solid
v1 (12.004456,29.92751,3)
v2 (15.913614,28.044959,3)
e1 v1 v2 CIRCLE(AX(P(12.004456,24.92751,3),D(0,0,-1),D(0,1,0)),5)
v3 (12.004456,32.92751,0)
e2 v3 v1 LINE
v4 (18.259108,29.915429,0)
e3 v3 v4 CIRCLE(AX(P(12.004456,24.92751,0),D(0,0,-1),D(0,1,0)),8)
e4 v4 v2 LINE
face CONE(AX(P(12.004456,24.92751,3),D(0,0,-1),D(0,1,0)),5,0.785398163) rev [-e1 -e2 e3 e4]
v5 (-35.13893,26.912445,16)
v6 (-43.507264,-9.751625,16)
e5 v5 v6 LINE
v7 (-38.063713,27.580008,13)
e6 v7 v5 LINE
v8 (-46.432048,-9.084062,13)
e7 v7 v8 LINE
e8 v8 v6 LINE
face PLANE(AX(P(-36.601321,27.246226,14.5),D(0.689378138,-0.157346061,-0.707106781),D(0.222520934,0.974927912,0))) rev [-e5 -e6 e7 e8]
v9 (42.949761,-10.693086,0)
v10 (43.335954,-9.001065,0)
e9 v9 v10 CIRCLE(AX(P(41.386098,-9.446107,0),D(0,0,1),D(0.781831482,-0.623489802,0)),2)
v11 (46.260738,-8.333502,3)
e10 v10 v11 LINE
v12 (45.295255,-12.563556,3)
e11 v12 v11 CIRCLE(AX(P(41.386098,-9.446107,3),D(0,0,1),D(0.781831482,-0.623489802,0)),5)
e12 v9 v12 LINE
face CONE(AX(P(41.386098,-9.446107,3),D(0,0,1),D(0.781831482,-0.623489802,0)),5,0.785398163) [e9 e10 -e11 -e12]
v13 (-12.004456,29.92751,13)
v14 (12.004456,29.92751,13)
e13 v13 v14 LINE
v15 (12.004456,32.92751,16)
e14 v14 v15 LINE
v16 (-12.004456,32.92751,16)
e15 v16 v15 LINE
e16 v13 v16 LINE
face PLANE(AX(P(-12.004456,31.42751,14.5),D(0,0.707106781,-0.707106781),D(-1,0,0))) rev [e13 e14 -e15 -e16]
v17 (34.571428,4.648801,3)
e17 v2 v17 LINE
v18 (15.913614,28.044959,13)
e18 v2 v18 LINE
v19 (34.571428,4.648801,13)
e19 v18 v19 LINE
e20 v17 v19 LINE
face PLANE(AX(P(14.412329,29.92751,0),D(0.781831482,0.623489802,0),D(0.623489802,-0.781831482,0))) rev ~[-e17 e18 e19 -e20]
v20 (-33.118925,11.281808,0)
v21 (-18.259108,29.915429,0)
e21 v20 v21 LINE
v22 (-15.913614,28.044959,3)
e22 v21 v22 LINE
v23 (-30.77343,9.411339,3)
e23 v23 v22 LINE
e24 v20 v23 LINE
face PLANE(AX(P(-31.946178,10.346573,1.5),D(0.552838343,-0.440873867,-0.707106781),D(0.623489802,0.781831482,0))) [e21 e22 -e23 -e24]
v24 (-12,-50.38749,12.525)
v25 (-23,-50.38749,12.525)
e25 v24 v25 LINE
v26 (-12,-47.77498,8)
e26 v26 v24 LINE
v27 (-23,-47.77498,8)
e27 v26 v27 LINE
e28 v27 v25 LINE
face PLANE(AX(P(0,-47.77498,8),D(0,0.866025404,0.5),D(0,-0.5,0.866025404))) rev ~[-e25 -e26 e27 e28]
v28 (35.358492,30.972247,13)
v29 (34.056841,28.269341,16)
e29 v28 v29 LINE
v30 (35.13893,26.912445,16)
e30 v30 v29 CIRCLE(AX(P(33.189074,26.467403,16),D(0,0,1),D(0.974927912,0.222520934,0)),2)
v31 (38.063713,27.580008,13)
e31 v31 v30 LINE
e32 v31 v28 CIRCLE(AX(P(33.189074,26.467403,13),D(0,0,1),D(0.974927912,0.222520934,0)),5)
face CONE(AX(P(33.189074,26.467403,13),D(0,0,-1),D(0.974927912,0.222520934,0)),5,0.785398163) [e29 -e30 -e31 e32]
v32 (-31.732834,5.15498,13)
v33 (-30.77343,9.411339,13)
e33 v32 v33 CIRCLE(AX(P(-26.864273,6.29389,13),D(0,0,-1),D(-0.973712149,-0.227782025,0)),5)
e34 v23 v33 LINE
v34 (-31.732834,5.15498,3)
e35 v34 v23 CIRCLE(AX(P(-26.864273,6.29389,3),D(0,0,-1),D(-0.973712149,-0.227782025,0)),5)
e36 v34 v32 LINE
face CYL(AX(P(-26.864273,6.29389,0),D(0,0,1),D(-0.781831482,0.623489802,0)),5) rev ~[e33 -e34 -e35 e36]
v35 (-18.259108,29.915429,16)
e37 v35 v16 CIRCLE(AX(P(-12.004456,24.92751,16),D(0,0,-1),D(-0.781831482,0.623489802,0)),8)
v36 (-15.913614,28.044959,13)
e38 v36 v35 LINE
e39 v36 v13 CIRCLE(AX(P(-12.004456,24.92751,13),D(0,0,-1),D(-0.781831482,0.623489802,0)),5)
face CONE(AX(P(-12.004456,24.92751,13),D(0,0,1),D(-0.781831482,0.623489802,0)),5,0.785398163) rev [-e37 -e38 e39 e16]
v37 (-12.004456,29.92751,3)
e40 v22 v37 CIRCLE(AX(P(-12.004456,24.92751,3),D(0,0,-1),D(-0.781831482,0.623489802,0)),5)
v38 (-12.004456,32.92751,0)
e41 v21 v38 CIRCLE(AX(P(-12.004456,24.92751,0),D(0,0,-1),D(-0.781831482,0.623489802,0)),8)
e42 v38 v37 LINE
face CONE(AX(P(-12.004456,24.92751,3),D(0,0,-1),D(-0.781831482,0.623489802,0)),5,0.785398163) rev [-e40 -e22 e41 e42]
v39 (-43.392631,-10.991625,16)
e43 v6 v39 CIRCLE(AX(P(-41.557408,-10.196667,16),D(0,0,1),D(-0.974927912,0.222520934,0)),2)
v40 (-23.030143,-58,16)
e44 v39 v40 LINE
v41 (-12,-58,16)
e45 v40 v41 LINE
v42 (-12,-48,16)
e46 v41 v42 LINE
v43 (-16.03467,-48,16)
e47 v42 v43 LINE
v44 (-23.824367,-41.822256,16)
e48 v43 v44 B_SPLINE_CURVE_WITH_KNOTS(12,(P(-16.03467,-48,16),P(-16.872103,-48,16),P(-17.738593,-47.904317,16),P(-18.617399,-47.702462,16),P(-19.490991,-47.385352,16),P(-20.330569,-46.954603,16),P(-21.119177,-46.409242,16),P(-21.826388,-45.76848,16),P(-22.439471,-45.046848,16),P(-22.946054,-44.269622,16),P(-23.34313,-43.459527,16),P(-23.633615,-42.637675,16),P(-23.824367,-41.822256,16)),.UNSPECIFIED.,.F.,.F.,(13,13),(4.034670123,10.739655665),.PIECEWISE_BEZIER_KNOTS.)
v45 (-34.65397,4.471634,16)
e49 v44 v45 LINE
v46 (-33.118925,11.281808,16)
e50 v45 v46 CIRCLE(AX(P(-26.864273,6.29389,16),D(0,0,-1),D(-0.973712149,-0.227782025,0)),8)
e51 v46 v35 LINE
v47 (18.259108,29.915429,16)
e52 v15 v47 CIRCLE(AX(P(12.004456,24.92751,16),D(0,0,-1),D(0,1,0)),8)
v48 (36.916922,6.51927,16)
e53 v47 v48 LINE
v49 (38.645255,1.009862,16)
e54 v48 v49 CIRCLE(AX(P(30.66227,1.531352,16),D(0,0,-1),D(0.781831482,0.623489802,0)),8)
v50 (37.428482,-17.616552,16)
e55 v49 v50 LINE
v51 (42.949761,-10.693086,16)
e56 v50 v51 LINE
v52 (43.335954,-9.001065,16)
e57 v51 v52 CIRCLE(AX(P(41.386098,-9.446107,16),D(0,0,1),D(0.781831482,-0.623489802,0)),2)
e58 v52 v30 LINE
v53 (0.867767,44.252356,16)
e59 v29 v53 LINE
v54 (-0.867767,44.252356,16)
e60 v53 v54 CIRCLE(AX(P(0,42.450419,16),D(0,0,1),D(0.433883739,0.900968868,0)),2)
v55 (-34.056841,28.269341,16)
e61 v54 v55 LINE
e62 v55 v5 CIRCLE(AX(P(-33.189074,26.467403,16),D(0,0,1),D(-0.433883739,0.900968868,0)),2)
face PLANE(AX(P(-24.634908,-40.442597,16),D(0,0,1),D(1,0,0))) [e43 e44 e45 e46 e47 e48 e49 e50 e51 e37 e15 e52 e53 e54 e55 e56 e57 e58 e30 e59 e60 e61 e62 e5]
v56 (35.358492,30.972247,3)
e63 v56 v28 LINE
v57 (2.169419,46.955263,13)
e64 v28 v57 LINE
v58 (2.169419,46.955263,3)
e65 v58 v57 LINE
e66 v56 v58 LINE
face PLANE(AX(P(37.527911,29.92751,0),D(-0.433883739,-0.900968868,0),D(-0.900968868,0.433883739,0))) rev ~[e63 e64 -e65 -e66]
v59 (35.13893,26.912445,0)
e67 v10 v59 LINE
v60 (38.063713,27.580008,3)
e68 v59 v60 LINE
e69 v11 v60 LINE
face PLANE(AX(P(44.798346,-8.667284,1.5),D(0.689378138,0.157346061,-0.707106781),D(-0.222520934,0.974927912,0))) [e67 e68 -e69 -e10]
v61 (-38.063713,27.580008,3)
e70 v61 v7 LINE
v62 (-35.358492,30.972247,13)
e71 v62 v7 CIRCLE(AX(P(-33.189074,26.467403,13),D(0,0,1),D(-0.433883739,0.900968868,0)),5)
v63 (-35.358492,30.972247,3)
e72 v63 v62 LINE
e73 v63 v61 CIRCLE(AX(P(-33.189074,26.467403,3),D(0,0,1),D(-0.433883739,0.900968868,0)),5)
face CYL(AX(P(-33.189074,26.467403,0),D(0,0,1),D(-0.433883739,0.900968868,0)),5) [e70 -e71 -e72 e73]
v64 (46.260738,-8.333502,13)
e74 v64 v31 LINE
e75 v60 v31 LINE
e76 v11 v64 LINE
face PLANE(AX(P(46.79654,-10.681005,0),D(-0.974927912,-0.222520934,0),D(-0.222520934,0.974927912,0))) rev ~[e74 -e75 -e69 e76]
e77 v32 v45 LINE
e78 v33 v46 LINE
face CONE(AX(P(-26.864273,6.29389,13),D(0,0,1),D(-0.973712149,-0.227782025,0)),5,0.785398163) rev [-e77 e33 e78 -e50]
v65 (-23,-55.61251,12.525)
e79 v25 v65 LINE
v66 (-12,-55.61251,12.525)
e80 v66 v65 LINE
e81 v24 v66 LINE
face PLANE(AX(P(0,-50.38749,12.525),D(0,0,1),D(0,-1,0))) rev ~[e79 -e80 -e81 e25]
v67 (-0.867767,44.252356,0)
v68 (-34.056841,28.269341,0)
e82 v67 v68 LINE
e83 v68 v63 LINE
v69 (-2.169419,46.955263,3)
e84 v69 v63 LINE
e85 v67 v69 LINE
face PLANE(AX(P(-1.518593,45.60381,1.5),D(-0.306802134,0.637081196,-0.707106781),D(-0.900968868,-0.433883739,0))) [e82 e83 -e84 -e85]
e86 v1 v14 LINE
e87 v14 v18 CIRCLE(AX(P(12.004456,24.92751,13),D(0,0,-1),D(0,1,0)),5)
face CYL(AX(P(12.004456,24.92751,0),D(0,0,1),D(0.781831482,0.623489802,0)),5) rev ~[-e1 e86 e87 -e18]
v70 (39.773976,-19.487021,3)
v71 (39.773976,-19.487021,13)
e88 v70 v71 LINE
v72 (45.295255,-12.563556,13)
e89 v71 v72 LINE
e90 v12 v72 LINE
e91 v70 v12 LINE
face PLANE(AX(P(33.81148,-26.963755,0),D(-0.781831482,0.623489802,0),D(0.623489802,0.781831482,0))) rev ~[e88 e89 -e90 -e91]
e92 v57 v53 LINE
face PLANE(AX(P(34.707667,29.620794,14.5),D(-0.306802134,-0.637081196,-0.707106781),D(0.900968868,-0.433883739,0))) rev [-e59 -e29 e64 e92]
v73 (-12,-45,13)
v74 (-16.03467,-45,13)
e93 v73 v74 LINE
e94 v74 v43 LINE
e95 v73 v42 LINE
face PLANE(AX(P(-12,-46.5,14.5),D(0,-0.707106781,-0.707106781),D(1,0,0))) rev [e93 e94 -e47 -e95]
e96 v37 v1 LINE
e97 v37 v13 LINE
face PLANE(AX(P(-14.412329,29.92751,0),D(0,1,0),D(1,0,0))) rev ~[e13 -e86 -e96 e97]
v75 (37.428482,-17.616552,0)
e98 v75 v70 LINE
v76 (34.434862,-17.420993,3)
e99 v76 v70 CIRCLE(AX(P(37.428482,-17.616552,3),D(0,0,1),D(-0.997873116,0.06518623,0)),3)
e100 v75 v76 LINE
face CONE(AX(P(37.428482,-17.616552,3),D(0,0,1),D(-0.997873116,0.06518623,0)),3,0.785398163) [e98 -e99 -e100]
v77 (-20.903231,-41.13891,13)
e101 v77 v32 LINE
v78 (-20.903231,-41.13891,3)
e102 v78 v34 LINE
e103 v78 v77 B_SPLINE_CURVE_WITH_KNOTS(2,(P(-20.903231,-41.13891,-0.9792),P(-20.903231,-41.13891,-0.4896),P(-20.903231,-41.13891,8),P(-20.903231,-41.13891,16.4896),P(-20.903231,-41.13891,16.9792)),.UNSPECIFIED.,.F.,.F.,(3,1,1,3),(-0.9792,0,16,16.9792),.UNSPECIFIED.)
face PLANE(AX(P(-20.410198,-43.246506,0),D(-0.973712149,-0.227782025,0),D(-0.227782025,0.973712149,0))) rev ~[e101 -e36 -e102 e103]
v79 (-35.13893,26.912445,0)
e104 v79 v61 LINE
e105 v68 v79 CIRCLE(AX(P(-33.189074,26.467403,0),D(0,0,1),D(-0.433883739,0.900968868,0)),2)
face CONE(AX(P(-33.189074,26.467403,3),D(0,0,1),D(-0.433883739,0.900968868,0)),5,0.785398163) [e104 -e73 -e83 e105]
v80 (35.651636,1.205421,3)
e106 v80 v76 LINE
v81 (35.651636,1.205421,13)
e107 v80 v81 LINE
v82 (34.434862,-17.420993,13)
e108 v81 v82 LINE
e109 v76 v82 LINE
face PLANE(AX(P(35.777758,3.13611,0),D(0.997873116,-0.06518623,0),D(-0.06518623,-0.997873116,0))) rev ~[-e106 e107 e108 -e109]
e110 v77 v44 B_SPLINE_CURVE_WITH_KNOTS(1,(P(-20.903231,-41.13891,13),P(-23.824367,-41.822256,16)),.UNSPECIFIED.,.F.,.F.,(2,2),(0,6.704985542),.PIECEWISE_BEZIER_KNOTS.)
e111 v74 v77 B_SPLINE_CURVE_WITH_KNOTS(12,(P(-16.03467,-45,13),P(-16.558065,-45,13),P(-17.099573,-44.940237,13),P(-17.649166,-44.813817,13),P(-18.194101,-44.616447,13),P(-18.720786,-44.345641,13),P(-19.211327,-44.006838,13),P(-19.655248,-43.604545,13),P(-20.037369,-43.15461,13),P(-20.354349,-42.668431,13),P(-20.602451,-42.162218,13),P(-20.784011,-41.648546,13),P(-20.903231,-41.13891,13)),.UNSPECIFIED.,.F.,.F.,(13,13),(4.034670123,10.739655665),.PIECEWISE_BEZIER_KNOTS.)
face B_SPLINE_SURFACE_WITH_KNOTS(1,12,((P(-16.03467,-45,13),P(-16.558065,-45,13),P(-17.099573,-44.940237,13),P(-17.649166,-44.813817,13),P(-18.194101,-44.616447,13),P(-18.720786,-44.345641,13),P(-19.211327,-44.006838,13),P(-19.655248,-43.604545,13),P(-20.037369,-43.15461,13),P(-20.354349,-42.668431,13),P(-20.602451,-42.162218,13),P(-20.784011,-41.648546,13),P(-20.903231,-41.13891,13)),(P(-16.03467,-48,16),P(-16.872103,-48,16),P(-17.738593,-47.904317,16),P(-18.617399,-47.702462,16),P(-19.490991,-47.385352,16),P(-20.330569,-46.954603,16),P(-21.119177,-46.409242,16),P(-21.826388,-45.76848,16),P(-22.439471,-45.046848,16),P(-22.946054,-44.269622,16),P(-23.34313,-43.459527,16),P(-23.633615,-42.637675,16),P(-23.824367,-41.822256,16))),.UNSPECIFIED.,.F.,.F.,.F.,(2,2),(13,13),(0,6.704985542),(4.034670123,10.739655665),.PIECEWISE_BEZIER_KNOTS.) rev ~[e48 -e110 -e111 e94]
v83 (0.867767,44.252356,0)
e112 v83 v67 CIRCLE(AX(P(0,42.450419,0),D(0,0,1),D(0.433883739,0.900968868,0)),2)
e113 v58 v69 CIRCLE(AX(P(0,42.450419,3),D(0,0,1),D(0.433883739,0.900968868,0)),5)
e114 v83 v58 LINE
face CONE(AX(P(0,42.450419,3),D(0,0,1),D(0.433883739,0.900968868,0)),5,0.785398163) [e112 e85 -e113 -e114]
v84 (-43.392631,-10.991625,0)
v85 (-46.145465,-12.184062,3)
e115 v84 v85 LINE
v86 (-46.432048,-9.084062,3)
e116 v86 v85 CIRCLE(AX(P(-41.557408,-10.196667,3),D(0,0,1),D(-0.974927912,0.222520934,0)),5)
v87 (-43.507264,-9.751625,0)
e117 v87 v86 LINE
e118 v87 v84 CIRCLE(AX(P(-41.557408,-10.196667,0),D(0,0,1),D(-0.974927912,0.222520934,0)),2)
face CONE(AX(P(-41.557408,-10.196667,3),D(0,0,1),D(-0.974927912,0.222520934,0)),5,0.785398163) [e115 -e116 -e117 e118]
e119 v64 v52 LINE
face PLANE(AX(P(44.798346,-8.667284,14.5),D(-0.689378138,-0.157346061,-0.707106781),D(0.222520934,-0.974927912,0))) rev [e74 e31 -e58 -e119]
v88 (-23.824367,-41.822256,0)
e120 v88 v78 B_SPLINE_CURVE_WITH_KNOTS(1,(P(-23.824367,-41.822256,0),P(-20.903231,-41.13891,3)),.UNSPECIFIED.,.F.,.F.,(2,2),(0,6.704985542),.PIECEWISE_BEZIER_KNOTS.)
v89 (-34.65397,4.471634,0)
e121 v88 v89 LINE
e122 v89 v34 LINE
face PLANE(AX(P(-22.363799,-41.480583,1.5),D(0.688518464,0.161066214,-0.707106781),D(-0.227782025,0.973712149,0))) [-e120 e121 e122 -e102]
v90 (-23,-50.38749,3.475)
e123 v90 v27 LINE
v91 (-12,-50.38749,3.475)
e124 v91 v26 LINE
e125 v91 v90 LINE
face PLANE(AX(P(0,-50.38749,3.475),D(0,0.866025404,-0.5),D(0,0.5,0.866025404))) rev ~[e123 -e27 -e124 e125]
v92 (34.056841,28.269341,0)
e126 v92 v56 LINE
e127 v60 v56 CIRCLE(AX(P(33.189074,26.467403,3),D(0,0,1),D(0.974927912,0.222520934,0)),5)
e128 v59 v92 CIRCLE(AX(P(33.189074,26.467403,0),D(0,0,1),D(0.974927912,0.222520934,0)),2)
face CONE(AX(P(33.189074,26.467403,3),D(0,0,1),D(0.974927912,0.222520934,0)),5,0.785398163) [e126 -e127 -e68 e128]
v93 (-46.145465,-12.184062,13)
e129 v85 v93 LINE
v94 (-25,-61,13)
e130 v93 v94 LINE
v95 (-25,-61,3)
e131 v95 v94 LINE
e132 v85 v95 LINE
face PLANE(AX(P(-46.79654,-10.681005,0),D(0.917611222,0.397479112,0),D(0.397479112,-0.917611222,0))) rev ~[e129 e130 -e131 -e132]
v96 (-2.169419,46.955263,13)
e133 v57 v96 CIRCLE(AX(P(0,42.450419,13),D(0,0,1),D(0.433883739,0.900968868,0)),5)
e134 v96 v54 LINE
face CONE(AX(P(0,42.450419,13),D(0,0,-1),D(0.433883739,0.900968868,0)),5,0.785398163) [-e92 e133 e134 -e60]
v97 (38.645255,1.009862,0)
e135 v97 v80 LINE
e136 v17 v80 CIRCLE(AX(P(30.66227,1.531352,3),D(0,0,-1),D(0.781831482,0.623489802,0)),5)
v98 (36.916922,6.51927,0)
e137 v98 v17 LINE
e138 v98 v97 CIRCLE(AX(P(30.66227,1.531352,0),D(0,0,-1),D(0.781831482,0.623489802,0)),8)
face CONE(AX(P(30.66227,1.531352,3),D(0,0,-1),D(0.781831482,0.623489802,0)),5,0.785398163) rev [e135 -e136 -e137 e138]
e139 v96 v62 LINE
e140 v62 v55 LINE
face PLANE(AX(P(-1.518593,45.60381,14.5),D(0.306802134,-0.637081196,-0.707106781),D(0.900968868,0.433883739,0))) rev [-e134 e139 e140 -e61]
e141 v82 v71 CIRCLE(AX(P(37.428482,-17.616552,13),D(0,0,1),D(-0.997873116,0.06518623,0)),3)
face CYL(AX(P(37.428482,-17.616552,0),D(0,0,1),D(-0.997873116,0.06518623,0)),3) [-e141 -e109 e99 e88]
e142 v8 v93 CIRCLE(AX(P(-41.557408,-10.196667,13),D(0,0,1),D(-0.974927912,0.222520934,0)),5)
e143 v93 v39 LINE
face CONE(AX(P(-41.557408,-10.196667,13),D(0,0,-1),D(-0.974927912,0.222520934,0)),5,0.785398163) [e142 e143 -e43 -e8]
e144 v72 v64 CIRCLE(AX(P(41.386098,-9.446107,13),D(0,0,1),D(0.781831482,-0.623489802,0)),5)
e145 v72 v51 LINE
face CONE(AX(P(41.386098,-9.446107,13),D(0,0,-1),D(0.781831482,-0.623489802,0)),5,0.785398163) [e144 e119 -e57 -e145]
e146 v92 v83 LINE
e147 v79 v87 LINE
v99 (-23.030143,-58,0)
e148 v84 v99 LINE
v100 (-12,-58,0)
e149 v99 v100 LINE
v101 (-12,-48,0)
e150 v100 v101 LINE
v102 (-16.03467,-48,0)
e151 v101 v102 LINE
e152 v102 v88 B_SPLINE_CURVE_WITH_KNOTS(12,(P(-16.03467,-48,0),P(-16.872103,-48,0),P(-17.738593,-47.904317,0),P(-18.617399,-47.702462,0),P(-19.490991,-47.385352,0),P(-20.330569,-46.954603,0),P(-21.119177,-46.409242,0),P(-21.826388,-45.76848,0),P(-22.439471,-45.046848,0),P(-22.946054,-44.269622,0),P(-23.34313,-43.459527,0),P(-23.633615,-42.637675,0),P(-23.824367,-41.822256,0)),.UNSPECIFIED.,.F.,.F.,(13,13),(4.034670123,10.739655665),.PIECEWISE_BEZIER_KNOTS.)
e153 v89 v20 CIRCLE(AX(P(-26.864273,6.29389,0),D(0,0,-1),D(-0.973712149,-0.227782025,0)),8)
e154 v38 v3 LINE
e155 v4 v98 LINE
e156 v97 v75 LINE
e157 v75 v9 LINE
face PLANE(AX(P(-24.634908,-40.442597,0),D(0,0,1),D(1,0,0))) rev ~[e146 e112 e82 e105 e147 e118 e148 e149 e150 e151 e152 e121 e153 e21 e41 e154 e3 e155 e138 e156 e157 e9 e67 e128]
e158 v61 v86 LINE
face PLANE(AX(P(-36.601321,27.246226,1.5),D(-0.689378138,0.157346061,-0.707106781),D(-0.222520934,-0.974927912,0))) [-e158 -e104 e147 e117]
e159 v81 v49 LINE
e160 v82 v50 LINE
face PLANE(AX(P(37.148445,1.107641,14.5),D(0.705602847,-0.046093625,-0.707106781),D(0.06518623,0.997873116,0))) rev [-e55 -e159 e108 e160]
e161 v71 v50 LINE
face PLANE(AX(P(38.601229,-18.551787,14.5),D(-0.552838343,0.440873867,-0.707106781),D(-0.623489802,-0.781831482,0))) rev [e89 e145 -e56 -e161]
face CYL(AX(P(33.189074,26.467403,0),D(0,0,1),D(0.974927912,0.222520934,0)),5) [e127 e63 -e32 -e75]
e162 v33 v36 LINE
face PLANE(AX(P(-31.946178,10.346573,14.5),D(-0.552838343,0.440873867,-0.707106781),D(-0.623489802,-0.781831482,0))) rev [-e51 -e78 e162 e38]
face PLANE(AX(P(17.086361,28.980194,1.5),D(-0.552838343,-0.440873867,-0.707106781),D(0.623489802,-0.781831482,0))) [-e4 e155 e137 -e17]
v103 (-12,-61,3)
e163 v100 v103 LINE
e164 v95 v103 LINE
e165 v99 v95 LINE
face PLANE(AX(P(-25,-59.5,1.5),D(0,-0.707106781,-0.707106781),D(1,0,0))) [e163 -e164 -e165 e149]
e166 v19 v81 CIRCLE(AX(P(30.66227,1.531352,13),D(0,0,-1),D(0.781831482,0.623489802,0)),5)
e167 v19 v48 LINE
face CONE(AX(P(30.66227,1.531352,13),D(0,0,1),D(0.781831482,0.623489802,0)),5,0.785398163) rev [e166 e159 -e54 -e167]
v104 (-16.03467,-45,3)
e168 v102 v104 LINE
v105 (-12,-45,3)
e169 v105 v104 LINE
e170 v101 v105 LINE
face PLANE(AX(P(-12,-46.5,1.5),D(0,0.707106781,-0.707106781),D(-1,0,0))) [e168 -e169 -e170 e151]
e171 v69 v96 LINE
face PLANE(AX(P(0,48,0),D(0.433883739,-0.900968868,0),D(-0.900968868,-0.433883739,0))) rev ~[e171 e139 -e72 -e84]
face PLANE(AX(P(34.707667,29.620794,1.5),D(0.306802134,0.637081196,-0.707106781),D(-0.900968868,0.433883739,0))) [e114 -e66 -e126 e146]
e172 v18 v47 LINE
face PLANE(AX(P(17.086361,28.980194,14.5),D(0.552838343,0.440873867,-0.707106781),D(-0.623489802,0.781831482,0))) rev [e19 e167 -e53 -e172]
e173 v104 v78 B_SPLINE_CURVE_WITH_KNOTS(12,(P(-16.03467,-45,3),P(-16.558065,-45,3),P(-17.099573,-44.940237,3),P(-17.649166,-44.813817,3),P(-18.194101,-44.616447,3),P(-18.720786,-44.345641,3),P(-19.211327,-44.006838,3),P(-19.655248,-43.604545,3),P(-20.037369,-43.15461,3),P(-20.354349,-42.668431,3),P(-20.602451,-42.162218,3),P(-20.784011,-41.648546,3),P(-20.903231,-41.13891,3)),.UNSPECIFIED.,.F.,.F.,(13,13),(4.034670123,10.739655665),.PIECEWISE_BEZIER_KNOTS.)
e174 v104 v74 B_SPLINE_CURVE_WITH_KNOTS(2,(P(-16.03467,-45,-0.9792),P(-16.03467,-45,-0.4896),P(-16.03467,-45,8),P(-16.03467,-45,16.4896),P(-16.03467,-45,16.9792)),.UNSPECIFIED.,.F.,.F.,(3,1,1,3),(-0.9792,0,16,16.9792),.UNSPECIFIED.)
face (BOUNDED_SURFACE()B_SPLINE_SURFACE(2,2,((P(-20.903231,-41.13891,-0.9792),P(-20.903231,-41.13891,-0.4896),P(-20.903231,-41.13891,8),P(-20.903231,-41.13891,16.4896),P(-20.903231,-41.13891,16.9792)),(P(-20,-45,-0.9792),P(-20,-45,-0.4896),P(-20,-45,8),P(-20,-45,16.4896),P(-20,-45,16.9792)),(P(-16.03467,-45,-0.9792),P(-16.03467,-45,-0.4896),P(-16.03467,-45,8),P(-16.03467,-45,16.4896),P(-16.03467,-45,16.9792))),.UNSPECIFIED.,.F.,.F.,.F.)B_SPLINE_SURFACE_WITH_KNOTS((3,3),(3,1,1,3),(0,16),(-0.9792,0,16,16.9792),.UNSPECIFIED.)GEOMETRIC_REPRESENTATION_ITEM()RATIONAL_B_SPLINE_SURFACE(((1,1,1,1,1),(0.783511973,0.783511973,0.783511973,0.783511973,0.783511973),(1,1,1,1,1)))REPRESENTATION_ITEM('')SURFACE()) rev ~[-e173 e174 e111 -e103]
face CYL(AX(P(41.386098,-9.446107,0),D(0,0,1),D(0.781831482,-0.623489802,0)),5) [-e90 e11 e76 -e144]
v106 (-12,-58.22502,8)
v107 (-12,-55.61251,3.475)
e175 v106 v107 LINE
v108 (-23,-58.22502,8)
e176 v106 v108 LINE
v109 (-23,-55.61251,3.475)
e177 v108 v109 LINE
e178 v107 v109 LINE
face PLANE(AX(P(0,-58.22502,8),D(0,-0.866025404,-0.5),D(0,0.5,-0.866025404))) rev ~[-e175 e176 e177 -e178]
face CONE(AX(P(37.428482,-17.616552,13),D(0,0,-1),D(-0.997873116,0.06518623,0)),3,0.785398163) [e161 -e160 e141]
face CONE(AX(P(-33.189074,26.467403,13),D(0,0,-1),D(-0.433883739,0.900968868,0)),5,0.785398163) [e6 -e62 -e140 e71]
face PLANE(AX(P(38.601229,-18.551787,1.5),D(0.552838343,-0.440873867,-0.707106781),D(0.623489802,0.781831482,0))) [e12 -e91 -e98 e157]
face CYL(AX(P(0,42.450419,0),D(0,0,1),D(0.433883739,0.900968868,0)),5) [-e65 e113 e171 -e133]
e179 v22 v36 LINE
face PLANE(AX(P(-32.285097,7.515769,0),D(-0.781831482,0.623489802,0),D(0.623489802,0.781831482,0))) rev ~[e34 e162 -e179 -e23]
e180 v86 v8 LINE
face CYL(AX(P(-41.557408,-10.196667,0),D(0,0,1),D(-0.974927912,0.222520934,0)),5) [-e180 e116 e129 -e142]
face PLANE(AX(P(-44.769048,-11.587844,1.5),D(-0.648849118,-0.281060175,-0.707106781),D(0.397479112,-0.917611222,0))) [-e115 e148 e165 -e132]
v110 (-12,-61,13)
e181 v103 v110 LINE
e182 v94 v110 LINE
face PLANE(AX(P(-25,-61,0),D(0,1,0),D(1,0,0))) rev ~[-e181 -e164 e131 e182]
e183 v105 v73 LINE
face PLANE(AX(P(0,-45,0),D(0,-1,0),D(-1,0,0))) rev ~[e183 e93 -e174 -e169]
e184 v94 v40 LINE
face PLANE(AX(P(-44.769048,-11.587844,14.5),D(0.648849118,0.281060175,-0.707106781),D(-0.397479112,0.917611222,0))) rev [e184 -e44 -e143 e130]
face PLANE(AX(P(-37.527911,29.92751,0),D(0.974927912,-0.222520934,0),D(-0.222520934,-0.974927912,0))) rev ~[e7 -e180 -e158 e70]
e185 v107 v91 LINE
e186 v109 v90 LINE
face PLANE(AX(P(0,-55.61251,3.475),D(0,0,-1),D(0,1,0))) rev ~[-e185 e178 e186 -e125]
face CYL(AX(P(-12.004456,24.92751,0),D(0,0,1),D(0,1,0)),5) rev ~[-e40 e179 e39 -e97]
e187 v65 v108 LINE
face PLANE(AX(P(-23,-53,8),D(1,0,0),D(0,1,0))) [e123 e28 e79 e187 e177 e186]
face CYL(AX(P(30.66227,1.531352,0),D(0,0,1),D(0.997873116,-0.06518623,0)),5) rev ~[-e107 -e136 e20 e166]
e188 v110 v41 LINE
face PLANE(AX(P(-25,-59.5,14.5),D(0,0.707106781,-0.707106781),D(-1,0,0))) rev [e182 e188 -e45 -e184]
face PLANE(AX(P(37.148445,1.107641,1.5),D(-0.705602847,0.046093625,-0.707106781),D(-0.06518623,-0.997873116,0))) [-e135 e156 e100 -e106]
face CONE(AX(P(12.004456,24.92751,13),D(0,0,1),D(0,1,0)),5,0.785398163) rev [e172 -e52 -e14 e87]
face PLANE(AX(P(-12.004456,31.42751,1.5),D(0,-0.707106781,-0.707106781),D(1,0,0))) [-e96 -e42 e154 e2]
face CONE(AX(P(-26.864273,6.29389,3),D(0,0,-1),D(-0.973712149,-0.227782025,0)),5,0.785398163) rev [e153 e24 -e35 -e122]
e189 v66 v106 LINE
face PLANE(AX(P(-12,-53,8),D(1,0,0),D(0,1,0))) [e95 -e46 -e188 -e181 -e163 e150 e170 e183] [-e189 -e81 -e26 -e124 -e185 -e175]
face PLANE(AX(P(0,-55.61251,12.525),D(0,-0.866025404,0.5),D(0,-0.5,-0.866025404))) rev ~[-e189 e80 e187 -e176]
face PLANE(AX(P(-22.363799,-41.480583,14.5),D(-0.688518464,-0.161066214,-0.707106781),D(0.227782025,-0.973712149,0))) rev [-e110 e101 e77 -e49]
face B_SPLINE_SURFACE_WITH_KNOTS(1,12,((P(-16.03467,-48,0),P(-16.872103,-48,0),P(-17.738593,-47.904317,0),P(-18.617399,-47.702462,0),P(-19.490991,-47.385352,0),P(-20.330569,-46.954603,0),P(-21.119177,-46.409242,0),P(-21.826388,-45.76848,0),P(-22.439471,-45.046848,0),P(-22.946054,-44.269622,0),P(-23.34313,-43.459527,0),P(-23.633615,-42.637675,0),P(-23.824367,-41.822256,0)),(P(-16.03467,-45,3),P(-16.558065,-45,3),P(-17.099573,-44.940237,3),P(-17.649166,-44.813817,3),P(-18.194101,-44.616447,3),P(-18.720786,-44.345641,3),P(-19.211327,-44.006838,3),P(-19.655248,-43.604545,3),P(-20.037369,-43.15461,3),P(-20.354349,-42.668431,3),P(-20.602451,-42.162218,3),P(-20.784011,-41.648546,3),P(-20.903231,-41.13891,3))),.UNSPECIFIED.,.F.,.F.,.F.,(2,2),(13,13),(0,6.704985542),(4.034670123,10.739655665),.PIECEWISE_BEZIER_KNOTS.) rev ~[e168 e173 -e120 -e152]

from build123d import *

# Parameters (mm, degrees)
F1_DEPTH = 16
F2_R     = 3
F3_R     = 5
F4_R     = 5
F5_W     = 16
F5_H     = 16
F6_DEPTH = 12
F7_DEPTH = 23
F8_SIZE  = 3


with BuildPart() as f1:
    # F0 (on Top) → F1 (new body)
    with BuildSketch(Plane.XY):
        Polygon((0, -61), (0, -45), (-20, -45), (-20.4101977074, -43.2465056593), (-20.8264194776, -43.2465056593), (-46.7965397847, -10.6810048299), (-25, -61), align=None)
        Polygon((-20.8264194776, -43.2465056593), (-20.4101977074, -43.2465056593), (-32.2850969664, 7.5157689065), (-46.7965397847, -10.6810048299), align=None)
        Polygon((-46.7965397847, -10.6810048299), (-32.2850969664, 7.5157689065), (-37.5279111585, 29.9275104892), align=None)
        Polygon((-37.5279111585, 29.9275104892), (-32.2850969664, 7.5157689065), (-14.4123294557, 29.9275104892), align=None)
        Polygon((0, 48), (-37.5279111585, 29.9275104892), (-14.4123294557, 29.9275104892), align=None)
        Polygon((0, 48), (-14.4123294557, 29.9275104892), (14.4123294557, 29.9275104892), align=None)
        Polygon((37.5279111585, 29.9275104892), (0, 48), (14.4123294557, 29.9275104892), align=None)
        Polygon((14.4123294557, 29.9275104892), (35.7777584033, 3.1361099918), (37.5279111585, 29.9275104892), align=None)
        Polygon((35.7777584033, 3.1361099918), (46.7965397847, -10.6810048299), (37.5279111585, 29.9275104892), align=None)
        Polygon((35.7777584033, 3.1361099918), (33.8114796312, -26.9637552446), (46.7965397847, -10.6810048299), align=None)
    extrude(amount=F1_DEPTH)

    # F2
    f2_edges = [f1.edges().sort_by_distance(p)[0] for p in [
        (33.81148, -26.963755, 8),
    ]]
    fillet(f2_edges, radius=F2_R)

    # F3
    f3_edges = [f1.edges().sort_by_distance(p)[0] for p in [
        (-46.79654, -10.681005, 8),
        (-37.527911, 29.92751, 8),
        (0, 48, 8),
        (37.527911, 29.92751, 8),
        (46.79654, -10.681005, 8),
    ]]
    fillet(f3_edges, radius=F3_R)

    # F4
    f4_edges = [f1.edges().sort_by_distance(p)[0] for p in [
        (-32.285097, 7.515769, 8),
        (-14.412329, 29.92751, 8),
        (14.412329, 29.92751, 8),
        (35.777758, 3.13611, 8),
        (-20, -45, 8),
    ]]
    fillet(f4_edges, radius=F4_R)

    # F5 (on face) → F6 (cut)
    with BuildSketch(Plane.YZ):
        with Locations((-53, 8)):
            Rectangle(F5_W, F5_H)
        Polygon((-50.3874900319, 3.475), (-55.6125099681, 3.475), (-58.2250199362, 8), (-55.6125099681, 12.525), (-50.3874900319, 12.525), (-47.7749800638, 8), align=None, mode=Mode.SUBTRACT)
        Polygon((-58.2250199362, 8), (-55.6125099681, 3.475), (-50.3874900319, 3.475), (-47.7749800638, 8), (-50.3874900319, 12.525), (-55.6125099681, 12.525), align=None)
    extrude(amount=-F6_DEPTH, mode=Mode.SUBTRACT)

    # F5 (on face) → F7 (cut)
    with BuildSketch(Plane.YZ):
        Polygon((-58.2250199362, 8), (-55.6125099681, 3.475), (-50.3874900319, 3.475), (-47.7749800638, 8), (-50.3874900319, 12.525), (-55.6125099681, 12.525), align=None)
    extrude(amount=-F7_DEPTH, mode=Mode.SUBTRACT)

    # F8
    f8_edges = [f1.edges().sort_by_distance(p)[0] for p in [
        (-26.318032, -17.991965, 16),
        (-18.5, -61, 16),
        (-18.5, -61, 0),
        (-26.318032, -17.991965, 0),
    ]]
    chamfer(f8_edges, length=F8_SIZE)


solid = f1.part
